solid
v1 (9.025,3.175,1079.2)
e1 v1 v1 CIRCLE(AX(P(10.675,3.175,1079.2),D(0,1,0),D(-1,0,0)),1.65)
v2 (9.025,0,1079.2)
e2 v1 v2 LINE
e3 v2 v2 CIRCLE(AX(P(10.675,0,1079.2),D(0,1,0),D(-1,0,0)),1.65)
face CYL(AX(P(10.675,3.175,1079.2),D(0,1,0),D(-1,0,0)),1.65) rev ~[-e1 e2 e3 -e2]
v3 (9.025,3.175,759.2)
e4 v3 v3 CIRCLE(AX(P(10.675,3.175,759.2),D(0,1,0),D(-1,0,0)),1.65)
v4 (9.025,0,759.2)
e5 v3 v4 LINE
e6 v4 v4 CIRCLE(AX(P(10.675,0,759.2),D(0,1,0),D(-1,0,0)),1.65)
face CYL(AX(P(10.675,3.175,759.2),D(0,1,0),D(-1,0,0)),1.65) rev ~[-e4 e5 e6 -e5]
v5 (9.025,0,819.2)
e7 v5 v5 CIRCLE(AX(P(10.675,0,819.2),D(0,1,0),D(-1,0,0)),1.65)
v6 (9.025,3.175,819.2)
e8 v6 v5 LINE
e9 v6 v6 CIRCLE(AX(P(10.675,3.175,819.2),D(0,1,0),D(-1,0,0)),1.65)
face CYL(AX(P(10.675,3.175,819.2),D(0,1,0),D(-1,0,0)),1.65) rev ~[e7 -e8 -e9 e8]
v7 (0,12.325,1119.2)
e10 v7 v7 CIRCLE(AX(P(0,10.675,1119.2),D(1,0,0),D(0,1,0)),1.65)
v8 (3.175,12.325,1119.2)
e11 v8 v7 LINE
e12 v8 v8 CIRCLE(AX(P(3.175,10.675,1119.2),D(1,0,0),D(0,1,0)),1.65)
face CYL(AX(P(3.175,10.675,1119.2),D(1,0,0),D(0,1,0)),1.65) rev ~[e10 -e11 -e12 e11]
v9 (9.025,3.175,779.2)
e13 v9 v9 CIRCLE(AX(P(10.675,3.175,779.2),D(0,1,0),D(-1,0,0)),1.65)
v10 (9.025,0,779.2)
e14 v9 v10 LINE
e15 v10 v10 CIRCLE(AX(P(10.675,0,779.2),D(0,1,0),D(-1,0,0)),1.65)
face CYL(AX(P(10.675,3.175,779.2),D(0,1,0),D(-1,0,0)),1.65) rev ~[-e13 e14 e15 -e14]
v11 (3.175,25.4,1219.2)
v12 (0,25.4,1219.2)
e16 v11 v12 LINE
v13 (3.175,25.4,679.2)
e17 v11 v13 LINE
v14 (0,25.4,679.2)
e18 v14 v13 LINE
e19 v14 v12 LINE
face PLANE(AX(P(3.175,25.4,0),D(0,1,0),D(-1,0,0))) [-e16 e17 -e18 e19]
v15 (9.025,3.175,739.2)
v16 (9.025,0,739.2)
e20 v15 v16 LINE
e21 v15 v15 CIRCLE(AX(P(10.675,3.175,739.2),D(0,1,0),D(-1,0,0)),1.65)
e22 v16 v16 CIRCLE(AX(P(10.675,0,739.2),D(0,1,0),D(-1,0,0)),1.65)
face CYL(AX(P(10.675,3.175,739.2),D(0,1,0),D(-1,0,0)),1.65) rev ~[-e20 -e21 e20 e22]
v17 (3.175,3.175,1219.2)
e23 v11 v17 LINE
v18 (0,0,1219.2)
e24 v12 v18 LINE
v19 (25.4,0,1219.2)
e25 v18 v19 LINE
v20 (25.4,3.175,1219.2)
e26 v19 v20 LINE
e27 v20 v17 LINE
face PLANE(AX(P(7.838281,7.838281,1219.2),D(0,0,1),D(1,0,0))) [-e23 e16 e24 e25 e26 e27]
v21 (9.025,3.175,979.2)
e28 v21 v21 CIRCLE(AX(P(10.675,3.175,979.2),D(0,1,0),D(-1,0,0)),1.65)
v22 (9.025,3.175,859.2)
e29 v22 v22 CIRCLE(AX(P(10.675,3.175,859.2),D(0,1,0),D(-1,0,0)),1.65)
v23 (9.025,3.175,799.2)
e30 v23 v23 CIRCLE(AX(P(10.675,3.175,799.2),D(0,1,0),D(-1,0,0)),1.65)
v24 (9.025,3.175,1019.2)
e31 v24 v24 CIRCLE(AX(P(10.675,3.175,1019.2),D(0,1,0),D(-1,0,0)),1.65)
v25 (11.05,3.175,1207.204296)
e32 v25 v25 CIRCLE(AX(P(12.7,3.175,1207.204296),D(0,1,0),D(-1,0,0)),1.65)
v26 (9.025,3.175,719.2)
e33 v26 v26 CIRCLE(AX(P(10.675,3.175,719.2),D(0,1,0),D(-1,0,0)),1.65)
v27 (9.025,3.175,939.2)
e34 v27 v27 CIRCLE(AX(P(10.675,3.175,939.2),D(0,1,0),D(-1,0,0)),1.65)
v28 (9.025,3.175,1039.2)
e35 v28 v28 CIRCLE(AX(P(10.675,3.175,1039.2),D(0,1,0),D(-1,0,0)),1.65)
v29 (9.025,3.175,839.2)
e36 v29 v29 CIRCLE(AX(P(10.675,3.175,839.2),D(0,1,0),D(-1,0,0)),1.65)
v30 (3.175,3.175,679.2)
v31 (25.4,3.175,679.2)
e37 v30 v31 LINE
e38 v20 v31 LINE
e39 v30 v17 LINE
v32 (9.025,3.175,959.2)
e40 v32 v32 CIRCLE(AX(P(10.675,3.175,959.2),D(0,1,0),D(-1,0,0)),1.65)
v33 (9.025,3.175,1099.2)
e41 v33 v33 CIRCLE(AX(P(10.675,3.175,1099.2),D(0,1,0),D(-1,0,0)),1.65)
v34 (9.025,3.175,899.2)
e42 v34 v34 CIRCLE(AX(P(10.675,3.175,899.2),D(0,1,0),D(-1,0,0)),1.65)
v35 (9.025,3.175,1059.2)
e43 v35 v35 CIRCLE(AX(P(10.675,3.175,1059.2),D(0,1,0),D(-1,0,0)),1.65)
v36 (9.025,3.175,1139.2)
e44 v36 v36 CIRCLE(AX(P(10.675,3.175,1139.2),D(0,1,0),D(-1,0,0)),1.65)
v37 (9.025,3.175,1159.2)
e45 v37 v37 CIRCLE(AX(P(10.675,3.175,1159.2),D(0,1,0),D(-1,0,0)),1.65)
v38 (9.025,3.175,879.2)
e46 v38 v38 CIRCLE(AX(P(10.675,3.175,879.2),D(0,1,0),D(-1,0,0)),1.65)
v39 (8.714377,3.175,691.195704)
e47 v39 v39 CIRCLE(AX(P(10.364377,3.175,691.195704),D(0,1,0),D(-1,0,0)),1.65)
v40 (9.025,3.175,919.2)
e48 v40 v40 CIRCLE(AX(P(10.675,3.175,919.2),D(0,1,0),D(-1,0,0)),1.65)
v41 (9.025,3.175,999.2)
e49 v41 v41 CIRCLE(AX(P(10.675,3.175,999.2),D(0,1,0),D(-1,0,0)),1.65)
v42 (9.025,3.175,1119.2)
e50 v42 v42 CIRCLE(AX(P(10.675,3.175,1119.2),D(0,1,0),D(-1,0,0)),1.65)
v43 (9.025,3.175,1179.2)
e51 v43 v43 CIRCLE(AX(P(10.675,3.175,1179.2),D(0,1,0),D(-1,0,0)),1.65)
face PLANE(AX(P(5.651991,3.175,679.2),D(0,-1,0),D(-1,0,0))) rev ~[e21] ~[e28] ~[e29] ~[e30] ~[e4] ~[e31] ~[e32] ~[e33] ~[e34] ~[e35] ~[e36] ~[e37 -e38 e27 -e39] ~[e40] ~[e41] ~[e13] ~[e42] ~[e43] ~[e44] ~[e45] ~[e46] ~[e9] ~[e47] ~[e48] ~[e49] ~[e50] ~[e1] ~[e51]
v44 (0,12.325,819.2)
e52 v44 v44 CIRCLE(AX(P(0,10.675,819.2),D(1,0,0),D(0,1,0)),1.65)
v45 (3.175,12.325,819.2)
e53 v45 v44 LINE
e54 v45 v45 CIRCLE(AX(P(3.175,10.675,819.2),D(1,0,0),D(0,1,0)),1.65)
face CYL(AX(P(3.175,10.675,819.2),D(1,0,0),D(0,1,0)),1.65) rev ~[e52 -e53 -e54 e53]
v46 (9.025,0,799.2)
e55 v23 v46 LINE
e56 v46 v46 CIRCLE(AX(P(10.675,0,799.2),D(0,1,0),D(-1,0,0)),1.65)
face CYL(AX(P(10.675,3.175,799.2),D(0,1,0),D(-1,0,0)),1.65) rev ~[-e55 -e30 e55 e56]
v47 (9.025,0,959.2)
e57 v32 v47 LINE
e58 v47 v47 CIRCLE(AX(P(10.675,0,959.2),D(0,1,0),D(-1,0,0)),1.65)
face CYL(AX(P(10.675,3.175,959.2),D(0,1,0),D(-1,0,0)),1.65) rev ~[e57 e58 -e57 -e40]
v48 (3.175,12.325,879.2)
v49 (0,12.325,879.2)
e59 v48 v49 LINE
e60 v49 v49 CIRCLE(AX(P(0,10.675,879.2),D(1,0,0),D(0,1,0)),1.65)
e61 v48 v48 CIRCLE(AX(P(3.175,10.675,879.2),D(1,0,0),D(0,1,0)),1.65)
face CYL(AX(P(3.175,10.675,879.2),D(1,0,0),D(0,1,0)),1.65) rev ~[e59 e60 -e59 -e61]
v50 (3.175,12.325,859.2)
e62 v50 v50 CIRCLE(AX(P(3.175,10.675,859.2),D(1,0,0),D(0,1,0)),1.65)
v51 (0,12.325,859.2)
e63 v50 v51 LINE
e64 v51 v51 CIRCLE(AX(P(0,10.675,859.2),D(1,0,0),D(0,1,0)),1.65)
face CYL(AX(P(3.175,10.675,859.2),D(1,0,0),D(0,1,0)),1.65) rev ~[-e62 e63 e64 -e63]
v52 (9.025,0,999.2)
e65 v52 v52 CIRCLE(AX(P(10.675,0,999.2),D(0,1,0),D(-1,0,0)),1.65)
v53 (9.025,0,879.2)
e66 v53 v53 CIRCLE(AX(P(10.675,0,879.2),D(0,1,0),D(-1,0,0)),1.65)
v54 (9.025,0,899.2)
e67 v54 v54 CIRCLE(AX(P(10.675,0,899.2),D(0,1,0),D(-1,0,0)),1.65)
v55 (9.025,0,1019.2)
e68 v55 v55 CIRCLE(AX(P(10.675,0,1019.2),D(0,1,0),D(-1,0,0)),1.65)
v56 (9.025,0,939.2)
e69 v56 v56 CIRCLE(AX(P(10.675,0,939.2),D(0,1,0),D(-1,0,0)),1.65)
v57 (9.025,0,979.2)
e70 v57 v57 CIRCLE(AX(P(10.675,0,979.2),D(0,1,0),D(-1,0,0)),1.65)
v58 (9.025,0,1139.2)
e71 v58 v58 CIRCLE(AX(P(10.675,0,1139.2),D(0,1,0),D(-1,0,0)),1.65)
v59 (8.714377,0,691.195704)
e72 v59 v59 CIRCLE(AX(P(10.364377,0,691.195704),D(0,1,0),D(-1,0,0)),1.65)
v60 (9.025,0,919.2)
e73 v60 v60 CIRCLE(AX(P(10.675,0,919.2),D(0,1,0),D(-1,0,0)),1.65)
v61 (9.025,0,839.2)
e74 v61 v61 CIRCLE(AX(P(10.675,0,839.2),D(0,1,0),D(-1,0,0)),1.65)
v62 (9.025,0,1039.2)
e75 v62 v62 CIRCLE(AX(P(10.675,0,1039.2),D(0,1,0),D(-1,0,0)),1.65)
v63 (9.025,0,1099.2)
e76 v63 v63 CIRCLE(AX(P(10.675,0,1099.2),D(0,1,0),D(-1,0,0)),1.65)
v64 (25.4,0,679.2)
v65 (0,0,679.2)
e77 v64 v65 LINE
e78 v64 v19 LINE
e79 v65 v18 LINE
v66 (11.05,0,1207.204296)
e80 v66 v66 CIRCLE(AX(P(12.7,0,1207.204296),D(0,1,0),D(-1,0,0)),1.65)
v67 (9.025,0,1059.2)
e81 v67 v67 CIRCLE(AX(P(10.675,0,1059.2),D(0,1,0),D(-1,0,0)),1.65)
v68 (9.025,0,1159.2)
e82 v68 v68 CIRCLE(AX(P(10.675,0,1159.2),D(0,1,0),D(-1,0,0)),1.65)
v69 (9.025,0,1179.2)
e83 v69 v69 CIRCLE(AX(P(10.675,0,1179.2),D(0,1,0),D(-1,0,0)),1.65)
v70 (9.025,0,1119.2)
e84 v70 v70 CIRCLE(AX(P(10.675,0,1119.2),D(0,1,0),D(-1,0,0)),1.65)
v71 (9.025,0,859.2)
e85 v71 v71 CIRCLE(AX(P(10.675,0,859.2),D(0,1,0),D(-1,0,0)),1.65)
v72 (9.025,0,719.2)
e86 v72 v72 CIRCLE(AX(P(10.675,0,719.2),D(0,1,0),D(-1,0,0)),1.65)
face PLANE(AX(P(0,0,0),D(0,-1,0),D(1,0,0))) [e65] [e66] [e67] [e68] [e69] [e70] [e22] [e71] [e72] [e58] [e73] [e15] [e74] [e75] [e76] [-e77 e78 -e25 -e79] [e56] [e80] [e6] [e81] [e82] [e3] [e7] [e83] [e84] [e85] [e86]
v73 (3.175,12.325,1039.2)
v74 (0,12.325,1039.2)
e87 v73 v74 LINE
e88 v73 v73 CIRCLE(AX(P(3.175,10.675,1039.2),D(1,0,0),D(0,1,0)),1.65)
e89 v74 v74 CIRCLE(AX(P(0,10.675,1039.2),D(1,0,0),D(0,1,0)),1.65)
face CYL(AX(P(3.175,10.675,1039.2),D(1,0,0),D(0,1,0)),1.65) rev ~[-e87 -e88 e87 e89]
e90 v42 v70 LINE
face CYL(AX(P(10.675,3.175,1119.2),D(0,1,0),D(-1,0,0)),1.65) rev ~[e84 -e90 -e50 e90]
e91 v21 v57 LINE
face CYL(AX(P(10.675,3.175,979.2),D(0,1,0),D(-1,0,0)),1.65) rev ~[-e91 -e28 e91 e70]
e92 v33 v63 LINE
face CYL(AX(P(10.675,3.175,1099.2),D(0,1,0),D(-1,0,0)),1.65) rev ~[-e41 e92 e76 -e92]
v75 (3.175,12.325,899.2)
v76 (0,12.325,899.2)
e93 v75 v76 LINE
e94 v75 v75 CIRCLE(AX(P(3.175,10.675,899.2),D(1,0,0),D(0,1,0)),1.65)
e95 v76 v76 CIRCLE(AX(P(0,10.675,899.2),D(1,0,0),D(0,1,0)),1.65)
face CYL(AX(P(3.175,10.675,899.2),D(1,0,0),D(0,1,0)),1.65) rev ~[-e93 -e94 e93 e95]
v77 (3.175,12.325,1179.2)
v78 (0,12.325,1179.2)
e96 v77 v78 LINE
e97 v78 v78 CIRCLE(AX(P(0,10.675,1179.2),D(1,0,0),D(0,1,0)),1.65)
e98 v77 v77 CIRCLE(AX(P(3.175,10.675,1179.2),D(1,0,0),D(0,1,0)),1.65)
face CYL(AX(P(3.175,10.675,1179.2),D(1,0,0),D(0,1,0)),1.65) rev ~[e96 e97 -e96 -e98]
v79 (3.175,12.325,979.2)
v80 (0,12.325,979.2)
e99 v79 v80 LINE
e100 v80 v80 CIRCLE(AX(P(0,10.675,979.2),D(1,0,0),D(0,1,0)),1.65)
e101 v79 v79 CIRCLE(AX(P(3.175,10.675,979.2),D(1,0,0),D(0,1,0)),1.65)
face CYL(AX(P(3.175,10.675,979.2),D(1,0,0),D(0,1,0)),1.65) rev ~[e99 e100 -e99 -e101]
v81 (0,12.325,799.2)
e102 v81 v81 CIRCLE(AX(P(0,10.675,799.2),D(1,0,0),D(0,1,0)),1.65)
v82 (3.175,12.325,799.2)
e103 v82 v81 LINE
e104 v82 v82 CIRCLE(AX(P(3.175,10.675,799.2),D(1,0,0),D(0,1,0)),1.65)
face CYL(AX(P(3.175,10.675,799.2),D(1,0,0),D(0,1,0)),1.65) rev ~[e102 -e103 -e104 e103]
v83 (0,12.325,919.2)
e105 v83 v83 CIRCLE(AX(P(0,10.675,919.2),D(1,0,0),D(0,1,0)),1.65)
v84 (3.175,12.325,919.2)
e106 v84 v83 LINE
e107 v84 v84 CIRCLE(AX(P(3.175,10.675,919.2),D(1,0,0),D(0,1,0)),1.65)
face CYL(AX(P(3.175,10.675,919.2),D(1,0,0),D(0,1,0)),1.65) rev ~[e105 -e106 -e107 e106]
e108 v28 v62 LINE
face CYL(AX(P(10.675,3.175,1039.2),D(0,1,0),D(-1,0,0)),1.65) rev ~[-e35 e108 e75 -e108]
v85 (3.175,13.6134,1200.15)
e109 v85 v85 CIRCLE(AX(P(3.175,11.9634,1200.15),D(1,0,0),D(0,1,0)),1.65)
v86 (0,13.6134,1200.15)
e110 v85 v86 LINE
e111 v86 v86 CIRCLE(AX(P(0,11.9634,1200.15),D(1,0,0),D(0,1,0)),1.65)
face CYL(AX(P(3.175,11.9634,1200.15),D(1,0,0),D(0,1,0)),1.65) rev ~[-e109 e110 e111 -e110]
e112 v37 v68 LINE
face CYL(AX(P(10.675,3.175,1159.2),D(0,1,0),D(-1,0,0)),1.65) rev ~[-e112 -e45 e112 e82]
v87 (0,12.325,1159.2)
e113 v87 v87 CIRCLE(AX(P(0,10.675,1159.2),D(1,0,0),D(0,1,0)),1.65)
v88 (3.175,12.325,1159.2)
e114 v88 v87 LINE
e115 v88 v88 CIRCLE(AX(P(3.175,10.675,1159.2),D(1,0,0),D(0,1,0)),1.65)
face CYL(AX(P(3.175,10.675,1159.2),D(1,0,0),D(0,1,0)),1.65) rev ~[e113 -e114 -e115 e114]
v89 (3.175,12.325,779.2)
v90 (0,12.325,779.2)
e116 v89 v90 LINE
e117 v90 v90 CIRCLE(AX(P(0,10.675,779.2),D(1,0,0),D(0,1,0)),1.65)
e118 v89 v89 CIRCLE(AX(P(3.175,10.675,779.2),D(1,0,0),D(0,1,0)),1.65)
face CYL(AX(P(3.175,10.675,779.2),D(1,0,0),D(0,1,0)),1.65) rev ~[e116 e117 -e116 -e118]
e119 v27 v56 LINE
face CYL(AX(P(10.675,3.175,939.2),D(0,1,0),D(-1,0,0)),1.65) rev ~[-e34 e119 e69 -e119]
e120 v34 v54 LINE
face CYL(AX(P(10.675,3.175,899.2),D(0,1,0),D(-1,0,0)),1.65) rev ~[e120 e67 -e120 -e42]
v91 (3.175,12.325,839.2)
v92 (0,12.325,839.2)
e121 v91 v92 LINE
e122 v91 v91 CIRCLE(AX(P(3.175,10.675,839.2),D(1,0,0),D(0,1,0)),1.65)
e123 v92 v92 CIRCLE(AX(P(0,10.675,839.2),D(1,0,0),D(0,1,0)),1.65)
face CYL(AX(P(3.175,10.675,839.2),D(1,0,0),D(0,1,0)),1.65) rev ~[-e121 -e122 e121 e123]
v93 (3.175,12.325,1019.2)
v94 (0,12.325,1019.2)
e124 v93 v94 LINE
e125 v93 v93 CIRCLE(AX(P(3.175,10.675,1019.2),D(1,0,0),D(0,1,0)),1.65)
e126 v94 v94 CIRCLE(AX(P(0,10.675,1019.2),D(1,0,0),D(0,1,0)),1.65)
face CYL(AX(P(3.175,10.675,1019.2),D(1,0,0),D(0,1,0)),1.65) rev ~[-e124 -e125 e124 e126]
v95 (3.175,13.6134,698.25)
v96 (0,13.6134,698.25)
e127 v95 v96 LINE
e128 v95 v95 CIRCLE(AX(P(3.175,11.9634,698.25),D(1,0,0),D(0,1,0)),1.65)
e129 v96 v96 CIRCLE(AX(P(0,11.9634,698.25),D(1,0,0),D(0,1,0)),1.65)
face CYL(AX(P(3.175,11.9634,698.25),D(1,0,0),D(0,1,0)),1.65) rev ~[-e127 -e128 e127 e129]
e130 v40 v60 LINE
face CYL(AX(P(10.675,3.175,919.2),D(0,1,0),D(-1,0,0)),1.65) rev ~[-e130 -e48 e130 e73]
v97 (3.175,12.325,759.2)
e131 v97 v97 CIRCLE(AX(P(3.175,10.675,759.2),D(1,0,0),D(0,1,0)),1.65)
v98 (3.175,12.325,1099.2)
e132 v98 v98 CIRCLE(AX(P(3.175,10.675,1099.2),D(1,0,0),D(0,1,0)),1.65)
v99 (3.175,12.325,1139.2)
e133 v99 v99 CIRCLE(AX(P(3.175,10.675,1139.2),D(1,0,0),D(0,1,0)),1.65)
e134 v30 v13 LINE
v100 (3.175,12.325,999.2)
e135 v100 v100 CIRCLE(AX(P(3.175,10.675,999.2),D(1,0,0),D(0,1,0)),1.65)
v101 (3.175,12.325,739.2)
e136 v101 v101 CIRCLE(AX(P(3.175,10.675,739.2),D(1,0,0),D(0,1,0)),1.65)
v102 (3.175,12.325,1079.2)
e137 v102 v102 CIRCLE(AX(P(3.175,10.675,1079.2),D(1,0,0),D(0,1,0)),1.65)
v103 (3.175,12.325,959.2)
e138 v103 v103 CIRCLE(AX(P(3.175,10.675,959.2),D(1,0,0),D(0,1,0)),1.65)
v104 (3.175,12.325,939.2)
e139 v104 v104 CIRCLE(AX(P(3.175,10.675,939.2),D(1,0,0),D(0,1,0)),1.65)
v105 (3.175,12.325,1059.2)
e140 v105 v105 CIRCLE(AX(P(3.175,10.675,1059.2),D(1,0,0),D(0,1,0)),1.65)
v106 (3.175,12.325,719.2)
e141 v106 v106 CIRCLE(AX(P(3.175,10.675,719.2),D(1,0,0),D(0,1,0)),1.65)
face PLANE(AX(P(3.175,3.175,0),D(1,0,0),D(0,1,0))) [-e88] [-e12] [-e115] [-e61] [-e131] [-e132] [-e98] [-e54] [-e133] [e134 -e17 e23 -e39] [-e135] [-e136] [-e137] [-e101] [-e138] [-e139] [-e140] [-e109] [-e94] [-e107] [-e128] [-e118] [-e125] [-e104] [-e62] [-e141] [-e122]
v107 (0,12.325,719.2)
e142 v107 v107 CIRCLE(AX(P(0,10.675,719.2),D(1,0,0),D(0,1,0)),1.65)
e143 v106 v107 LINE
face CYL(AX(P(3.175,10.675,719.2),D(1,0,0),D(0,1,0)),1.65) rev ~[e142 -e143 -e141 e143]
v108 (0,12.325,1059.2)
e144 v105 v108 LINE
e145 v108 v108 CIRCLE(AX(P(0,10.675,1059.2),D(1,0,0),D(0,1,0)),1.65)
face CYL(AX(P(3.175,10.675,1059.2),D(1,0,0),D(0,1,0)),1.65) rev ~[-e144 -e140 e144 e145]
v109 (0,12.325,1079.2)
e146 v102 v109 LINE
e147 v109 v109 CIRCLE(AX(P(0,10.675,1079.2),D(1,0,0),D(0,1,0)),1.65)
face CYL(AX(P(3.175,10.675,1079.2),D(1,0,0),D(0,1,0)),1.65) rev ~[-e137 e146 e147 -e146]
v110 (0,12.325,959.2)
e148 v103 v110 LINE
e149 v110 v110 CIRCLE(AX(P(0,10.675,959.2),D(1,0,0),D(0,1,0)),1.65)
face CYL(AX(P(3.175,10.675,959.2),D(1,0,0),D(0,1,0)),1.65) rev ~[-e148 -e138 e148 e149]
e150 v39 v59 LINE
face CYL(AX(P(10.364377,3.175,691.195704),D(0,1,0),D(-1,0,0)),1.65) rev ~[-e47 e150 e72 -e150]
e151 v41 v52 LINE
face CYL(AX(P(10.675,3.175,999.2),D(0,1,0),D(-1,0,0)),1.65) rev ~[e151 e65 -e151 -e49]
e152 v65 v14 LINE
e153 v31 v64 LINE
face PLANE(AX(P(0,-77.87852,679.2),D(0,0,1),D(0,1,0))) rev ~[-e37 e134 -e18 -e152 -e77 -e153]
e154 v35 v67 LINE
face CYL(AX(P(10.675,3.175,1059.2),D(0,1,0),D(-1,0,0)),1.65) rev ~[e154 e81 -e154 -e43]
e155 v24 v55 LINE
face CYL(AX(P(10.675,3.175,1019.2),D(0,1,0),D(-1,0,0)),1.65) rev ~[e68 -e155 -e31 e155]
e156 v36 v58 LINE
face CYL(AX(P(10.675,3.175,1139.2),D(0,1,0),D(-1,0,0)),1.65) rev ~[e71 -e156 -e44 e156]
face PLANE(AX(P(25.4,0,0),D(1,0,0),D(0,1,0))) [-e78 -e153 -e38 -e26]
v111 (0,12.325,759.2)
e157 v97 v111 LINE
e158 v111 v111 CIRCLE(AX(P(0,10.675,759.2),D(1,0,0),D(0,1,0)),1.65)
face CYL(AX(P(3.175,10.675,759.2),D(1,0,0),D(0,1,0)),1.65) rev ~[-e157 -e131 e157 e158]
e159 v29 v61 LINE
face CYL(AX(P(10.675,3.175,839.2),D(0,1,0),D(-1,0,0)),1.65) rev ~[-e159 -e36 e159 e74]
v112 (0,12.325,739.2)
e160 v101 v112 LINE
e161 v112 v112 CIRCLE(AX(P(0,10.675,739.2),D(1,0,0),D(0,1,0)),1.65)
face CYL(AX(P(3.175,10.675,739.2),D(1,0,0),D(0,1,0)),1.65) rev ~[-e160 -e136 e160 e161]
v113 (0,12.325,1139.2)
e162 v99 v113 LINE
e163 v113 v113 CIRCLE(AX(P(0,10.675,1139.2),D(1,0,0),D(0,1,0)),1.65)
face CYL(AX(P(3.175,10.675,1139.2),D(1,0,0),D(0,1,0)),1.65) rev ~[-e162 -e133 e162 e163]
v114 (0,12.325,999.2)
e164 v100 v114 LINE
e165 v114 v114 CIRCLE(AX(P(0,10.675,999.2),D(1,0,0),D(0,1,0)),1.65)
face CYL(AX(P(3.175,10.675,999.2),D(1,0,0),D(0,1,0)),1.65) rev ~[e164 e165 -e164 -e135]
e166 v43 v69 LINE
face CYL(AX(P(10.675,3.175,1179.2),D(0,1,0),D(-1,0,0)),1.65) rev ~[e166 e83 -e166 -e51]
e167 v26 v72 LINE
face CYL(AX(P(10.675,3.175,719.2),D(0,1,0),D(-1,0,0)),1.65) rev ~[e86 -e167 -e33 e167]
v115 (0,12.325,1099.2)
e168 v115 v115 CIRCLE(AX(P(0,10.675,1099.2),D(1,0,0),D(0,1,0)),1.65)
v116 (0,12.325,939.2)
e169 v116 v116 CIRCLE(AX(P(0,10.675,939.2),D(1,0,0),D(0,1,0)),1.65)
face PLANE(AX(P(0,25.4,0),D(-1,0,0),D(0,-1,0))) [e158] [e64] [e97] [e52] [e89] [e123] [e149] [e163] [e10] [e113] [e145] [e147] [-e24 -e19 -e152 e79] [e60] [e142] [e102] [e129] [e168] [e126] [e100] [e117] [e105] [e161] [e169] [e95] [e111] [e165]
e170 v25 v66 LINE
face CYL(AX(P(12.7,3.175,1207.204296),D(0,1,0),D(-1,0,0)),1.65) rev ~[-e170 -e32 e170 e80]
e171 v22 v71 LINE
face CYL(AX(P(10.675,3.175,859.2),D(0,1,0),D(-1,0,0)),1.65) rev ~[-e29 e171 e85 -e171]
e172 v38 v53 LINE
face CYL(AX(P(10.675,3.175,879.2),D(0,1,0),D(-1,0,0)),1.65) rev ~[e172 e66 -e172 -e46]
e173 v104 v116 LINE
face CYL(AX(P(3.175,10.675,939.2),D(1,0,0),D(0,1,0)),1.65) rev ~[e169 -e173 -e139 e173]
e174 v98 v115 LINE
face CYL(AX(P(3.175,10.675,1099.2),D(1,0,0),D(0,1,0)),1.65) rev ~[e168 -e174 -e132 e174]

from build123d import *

# Parameters (mm, degrees)
BOSS_EXTRUDE1_DEPTH = 1219.2
FILLET1_R           = 0.4064
SKETCH4_W           = 1898.4
SKETCH4_H           = 103.278519729
CUT_EXTRUDE1_DEPTH  = 60
SKETCH5_W           = 2.47699065
SKETCH5_H           = 2.94685794
CUT_EXTRUDE2_DEPTH  = 600
SKETCH8_R           = 1.65
CUT_EXTRUDE4_DEPTH  = 20
SKETCH9_R           = 1.65
CUT_EXTRUDE5_DEPTH  = 20
SKETCH10_R          = 1.65
CUT_EXTRUDE6_DEPTH  = 70
SKETCH11_R          = 1.65
CUT_EXTRUDE7_DEPTH  = 70


with BuildPart() as part:
    # Sketch3 → Boss-Extrude1 (new, symmetric)
    with BuildSketch(Plane.XY):
        Polygon((3.175, 25.4), (0, 25.4), (0, 0), (25.4, 0), (25.4, 3.175), (3.175, 3.175), align=None)
    extrude(amount=BOSS_EXTRUDE1_DEPTH, both=True)

    # Fillet1
    fillet1_edges = [part.edges().sort_by_distance(p)[0] for p in [
        (3.175, 3.175, 0),
    ]]
    fillet(fillet1_edges, radius=FILLET1_R)

    # Sketch4 → Cut-Extrude1 (cut)
    with BuildSketch(Plane.ZY):
        with Locations((-270, -26.239259864)):
            Rectangle(SKETCH4_W, SKETCH4_H)
    extrude(amount=-CUT_EXTRUDE1_DEPTH, mode=Mode.SUBTRACT)

    # Sketch5 → Cut-Extrude2 (cut)
    with BuildSketch(Plane(origin=(0, 0, 679.2), x_dir=(-1, 0, 0), z_dir=(0, 0, -1))):
        with Locations((-4.413495325, 4.64842897)):
            Rectangle(SKETCH5_W, SKETCH5_H)
    extrude(amount=-CUT_EXTRUDE2_DEPTH, mode=Mode.SUBTRACT)

    # Sketch8 → Cut-Extrude4 (cut)
    with BuildSketch(Plane(origin=(3.175, 0, 0), x_dir=(0, 0, -1), z_dir=(1, 0, 0))):
        with Locations(Location((-1179.2, 10.675, 0), (0, 0, 90))):
            Circle(SKETCH8_R)
        with Locations(Location((-1159.2, 10.675, 0), (0, 0, 90))):
            Circle(SKETCH8_R)
        with Locations(Location((-1139.2, 10.675, 0), (0, 0, 90))):
            Circle(SKETCH8_R)
        with Locations(Location((-1119.2, 10.675, 0), (0, 0, 90))):
            Circle(SKETCH8_R)
        with Locations(Location((-1099.2, 10.675, 0), (0, 0, 90))):
            Circle(SKETCH8_R)
        with Locations(Location((-1079.2, 10.675, 0), (0, 0, 90))):
            Circle(SKETCH8_R)
        with Locations(Location((-1059.2, 10.675, 0), (0, 0, 90))):
            Circle(SKETCH8_R)
        with Locations(Location((-1039.2, 10.675, 0), (0, 0, 90))):
            Circle(SKETCH8_R)
        with Locations(Location((-1019.2, 10.675, 0), (0, 0, 90))):
            Circle(SKETCH8_R)
        with Locations(Location((-999.2, 10.675, 0), (0, 0, 90))):
            Circle(SKETCH8_R)
        with Locations(Location((-979.2, 10.675, 0), (0, 0, 90))):
            Circle(SKETCH8_R)
        with Locations(Location((-959.2, 10.675, 0), (0, 0, 90))):
            Circle(SKETCH8_R)
        with Locations(Location((-939.2, 10.675, 0), (0, 0, 90))):
            Circle(SKETCH8_R)
        with Locations(Location((-919.2, 10.675, 0), (0, 0, 90))):
            Circle(SKETCH8_R)
        with Locations(Location((-899.2, 10.675, 0), (0, 0, 90))):
            Circle(SKETCH8_R)
        with Locations(Location((-879.2, 10.675, 0), (0, 0, 90))):
            Circle(SKETCH8_R)
        with Locations(Location((-859.2, 10.675, 0), (0, 0, 90))):
            Circle(SKETCH8_R)
        with Locations(Location((-839.2, 10.675, 0), (0, 0, 90))):
            Circle(SKETCH8_R)
        with Locations(Location((-819.2, 10.675, 0), (0, 0, 90))):
            Circle(SKETCH8_R)
        with Locations(Location((-799.2, 10.675, 0), (0, 0, 90))):
            Circle(SKETCH8_R)
        with Locations(Location((-779.2, 10.675, 0), (0, 0, 90))):
            Circle(SKETCH8_R)
        with Locations(Location((-759.2, 10.675, 0), (0, 0, 90))):
            Circle(SKETCH8_R)
        with Locations(Location((-739.2, 10.675, 0), (0, 0, 90))):
            Circle(SKETCH8_R)
        with Locations(Location((-719.2, 10.675, 0), (0, 0, 90))):
            Circle(SKETCH8_R)
    extrude(amount=-CUT_EXTRUDE4_DEPTH, mode=Mode.SUBTRACT)

    # Sketch9 → Cut-Extrude5 (cut)
    with BuildSketch(Plane(origin=(0, 3.175, 0), x_dir=(1, 0, 0), z_dir=(0, 1, 0))):
        with Locations(Location((10.675, -1179.2, 0), (0, 0, 180))):
            Circle(SKETCH9_R)
        with Locations(Location((10.675, -1159.2, 0), (0, 0, 180))):
            Circle(SKETCH9_R)
        with Locations(Location((10.675, -1139.2, 0), (0, 0, 180))):
            Circle(SKETCH9_R)
        with Locations(Location((10.675, -1119.2, 0), (0, 0, 180))):
            Circle(SKETCH9_R)
        with Locations(Location((10.675, -1099.2, 0), (0, 0, 180))):
            Circle(SKETCH9_R)
        with Locations(Location((10.675, -1079.2, 0), (0, 0, 180))):
            Circle(SKETCH9_R)
        with Locations(Location((10.675, -1059.2, 0), (0, 0, 180))):
            Circle(SKETCH9_R)
        with Locations(Location((10.675, -1039.2, 0), (0, 0, 180))):
            Circle(SKETCH9_R)
        with Locations(Location((10.675, -1019.2, 0), (0, 0, 180))):
            Circle(SKETCH9_R)
        with Locations(Location((10.675, -999.2, 0), (0, 0, 180))):
            Circle(SKETCH9_R)
        with Locations(Location((10.675, -979.2, 0), (0, 0, 180))):
            Circle(SKETCH9_R)
        with Locations(Location((10.675, -959.2, 0), (0, 0, 180))):
            Circle(SKETCH9_R)
        with Locations(Location((10.675, -939.2, 0), (0, 0, 180))):
            Circle(SKETCH9_R)
        with Locations(Location((10.675, -919.2, 0), (0, 0, 180))):
            Circle(SKETCH9_R)
        with Locations(Location((10.675, -899.2, 0), (0, 0, 180))):
            Circle(SKETCH9_R)
        with Locations(Location((10.675, -879.2, 0), (0, 0, 180))):
            Circle(SKETCH9_R)
        with Locations(Location((10.675, -859.2, 0), (0, 0, 180))):
            Circle(SKETCH9_R)
        with Locations(Location((10.675, -839.2, 0), (0, 0, 180))):
            Circle(SKETCH9_R)
        with Locations(Location((10.675, -819.2, 0), (0, 0, 180))):
            Circle(SKETCH9_R)
        with Locations(Location((10.675, -799.2, 0), (0, 0, 180))):
            Circle(SKETCH9_R)
        with Locations(Location((10.675, -779.2, 0), (0, 0, 180))):
            Circle(SKETCH9_R)
        with Locations(Location((10.675, -759.2, 0), (0, 0, 180))):
            Circle(SKETCH9_R)
        with Locations(Location((10.675, -739.2, 0), (0, 0, 180))):
            Circle(SKETCH9_R)
        with Locations(Location((10.675, -719.2, 0), (0, 0, 180))):
            Circle(SKETCH9_R)
    extrude(amount=-CUT_EXTRUDE5_DEPTH, mode=Mode.SUBTRACT)

    # Sketch10 → Cut-Extrude6 (cut)
    with BuildSketch(Plane(origin=(3.175, 0, 0), x_dir=(0, 0, -1), z_dir=(1, 0, 0))):
        with Locations(Location((-1200.15, 11.9634, 0), (0, 0, 90))):
            Circle(SKETCH10_R)
        with Locations(Location((-698.25, 11.9634, 0), (0, 0, 90))):
            Circle(SKETCH10_R)
    extrude(amount=-CUT_EXTRUDE6_DEPTH, mode=Mode.SUBTRACT)

    # Sketch11 → Cut-Extrude7 (cut)
    with BuildSketch(Plane(origin=(0, 3.175, 0), x_dir=(1, 0, 0), z_dir=(0, 1, 0))):
        with Locations(Location((10.364377143, -691.195704333, 0), (0, 0, 180))):
            Circle(SKETCH11_R)
        with Locations(Location((12.7, -1207.204295667, 0), (0, 0, 180))):
            Circle(SKETCH11_R)
    extrude(amount=-CUT_EXTRUDE7_DEPTH, mode=Mode.SUBTRACT)


solid = part.part
